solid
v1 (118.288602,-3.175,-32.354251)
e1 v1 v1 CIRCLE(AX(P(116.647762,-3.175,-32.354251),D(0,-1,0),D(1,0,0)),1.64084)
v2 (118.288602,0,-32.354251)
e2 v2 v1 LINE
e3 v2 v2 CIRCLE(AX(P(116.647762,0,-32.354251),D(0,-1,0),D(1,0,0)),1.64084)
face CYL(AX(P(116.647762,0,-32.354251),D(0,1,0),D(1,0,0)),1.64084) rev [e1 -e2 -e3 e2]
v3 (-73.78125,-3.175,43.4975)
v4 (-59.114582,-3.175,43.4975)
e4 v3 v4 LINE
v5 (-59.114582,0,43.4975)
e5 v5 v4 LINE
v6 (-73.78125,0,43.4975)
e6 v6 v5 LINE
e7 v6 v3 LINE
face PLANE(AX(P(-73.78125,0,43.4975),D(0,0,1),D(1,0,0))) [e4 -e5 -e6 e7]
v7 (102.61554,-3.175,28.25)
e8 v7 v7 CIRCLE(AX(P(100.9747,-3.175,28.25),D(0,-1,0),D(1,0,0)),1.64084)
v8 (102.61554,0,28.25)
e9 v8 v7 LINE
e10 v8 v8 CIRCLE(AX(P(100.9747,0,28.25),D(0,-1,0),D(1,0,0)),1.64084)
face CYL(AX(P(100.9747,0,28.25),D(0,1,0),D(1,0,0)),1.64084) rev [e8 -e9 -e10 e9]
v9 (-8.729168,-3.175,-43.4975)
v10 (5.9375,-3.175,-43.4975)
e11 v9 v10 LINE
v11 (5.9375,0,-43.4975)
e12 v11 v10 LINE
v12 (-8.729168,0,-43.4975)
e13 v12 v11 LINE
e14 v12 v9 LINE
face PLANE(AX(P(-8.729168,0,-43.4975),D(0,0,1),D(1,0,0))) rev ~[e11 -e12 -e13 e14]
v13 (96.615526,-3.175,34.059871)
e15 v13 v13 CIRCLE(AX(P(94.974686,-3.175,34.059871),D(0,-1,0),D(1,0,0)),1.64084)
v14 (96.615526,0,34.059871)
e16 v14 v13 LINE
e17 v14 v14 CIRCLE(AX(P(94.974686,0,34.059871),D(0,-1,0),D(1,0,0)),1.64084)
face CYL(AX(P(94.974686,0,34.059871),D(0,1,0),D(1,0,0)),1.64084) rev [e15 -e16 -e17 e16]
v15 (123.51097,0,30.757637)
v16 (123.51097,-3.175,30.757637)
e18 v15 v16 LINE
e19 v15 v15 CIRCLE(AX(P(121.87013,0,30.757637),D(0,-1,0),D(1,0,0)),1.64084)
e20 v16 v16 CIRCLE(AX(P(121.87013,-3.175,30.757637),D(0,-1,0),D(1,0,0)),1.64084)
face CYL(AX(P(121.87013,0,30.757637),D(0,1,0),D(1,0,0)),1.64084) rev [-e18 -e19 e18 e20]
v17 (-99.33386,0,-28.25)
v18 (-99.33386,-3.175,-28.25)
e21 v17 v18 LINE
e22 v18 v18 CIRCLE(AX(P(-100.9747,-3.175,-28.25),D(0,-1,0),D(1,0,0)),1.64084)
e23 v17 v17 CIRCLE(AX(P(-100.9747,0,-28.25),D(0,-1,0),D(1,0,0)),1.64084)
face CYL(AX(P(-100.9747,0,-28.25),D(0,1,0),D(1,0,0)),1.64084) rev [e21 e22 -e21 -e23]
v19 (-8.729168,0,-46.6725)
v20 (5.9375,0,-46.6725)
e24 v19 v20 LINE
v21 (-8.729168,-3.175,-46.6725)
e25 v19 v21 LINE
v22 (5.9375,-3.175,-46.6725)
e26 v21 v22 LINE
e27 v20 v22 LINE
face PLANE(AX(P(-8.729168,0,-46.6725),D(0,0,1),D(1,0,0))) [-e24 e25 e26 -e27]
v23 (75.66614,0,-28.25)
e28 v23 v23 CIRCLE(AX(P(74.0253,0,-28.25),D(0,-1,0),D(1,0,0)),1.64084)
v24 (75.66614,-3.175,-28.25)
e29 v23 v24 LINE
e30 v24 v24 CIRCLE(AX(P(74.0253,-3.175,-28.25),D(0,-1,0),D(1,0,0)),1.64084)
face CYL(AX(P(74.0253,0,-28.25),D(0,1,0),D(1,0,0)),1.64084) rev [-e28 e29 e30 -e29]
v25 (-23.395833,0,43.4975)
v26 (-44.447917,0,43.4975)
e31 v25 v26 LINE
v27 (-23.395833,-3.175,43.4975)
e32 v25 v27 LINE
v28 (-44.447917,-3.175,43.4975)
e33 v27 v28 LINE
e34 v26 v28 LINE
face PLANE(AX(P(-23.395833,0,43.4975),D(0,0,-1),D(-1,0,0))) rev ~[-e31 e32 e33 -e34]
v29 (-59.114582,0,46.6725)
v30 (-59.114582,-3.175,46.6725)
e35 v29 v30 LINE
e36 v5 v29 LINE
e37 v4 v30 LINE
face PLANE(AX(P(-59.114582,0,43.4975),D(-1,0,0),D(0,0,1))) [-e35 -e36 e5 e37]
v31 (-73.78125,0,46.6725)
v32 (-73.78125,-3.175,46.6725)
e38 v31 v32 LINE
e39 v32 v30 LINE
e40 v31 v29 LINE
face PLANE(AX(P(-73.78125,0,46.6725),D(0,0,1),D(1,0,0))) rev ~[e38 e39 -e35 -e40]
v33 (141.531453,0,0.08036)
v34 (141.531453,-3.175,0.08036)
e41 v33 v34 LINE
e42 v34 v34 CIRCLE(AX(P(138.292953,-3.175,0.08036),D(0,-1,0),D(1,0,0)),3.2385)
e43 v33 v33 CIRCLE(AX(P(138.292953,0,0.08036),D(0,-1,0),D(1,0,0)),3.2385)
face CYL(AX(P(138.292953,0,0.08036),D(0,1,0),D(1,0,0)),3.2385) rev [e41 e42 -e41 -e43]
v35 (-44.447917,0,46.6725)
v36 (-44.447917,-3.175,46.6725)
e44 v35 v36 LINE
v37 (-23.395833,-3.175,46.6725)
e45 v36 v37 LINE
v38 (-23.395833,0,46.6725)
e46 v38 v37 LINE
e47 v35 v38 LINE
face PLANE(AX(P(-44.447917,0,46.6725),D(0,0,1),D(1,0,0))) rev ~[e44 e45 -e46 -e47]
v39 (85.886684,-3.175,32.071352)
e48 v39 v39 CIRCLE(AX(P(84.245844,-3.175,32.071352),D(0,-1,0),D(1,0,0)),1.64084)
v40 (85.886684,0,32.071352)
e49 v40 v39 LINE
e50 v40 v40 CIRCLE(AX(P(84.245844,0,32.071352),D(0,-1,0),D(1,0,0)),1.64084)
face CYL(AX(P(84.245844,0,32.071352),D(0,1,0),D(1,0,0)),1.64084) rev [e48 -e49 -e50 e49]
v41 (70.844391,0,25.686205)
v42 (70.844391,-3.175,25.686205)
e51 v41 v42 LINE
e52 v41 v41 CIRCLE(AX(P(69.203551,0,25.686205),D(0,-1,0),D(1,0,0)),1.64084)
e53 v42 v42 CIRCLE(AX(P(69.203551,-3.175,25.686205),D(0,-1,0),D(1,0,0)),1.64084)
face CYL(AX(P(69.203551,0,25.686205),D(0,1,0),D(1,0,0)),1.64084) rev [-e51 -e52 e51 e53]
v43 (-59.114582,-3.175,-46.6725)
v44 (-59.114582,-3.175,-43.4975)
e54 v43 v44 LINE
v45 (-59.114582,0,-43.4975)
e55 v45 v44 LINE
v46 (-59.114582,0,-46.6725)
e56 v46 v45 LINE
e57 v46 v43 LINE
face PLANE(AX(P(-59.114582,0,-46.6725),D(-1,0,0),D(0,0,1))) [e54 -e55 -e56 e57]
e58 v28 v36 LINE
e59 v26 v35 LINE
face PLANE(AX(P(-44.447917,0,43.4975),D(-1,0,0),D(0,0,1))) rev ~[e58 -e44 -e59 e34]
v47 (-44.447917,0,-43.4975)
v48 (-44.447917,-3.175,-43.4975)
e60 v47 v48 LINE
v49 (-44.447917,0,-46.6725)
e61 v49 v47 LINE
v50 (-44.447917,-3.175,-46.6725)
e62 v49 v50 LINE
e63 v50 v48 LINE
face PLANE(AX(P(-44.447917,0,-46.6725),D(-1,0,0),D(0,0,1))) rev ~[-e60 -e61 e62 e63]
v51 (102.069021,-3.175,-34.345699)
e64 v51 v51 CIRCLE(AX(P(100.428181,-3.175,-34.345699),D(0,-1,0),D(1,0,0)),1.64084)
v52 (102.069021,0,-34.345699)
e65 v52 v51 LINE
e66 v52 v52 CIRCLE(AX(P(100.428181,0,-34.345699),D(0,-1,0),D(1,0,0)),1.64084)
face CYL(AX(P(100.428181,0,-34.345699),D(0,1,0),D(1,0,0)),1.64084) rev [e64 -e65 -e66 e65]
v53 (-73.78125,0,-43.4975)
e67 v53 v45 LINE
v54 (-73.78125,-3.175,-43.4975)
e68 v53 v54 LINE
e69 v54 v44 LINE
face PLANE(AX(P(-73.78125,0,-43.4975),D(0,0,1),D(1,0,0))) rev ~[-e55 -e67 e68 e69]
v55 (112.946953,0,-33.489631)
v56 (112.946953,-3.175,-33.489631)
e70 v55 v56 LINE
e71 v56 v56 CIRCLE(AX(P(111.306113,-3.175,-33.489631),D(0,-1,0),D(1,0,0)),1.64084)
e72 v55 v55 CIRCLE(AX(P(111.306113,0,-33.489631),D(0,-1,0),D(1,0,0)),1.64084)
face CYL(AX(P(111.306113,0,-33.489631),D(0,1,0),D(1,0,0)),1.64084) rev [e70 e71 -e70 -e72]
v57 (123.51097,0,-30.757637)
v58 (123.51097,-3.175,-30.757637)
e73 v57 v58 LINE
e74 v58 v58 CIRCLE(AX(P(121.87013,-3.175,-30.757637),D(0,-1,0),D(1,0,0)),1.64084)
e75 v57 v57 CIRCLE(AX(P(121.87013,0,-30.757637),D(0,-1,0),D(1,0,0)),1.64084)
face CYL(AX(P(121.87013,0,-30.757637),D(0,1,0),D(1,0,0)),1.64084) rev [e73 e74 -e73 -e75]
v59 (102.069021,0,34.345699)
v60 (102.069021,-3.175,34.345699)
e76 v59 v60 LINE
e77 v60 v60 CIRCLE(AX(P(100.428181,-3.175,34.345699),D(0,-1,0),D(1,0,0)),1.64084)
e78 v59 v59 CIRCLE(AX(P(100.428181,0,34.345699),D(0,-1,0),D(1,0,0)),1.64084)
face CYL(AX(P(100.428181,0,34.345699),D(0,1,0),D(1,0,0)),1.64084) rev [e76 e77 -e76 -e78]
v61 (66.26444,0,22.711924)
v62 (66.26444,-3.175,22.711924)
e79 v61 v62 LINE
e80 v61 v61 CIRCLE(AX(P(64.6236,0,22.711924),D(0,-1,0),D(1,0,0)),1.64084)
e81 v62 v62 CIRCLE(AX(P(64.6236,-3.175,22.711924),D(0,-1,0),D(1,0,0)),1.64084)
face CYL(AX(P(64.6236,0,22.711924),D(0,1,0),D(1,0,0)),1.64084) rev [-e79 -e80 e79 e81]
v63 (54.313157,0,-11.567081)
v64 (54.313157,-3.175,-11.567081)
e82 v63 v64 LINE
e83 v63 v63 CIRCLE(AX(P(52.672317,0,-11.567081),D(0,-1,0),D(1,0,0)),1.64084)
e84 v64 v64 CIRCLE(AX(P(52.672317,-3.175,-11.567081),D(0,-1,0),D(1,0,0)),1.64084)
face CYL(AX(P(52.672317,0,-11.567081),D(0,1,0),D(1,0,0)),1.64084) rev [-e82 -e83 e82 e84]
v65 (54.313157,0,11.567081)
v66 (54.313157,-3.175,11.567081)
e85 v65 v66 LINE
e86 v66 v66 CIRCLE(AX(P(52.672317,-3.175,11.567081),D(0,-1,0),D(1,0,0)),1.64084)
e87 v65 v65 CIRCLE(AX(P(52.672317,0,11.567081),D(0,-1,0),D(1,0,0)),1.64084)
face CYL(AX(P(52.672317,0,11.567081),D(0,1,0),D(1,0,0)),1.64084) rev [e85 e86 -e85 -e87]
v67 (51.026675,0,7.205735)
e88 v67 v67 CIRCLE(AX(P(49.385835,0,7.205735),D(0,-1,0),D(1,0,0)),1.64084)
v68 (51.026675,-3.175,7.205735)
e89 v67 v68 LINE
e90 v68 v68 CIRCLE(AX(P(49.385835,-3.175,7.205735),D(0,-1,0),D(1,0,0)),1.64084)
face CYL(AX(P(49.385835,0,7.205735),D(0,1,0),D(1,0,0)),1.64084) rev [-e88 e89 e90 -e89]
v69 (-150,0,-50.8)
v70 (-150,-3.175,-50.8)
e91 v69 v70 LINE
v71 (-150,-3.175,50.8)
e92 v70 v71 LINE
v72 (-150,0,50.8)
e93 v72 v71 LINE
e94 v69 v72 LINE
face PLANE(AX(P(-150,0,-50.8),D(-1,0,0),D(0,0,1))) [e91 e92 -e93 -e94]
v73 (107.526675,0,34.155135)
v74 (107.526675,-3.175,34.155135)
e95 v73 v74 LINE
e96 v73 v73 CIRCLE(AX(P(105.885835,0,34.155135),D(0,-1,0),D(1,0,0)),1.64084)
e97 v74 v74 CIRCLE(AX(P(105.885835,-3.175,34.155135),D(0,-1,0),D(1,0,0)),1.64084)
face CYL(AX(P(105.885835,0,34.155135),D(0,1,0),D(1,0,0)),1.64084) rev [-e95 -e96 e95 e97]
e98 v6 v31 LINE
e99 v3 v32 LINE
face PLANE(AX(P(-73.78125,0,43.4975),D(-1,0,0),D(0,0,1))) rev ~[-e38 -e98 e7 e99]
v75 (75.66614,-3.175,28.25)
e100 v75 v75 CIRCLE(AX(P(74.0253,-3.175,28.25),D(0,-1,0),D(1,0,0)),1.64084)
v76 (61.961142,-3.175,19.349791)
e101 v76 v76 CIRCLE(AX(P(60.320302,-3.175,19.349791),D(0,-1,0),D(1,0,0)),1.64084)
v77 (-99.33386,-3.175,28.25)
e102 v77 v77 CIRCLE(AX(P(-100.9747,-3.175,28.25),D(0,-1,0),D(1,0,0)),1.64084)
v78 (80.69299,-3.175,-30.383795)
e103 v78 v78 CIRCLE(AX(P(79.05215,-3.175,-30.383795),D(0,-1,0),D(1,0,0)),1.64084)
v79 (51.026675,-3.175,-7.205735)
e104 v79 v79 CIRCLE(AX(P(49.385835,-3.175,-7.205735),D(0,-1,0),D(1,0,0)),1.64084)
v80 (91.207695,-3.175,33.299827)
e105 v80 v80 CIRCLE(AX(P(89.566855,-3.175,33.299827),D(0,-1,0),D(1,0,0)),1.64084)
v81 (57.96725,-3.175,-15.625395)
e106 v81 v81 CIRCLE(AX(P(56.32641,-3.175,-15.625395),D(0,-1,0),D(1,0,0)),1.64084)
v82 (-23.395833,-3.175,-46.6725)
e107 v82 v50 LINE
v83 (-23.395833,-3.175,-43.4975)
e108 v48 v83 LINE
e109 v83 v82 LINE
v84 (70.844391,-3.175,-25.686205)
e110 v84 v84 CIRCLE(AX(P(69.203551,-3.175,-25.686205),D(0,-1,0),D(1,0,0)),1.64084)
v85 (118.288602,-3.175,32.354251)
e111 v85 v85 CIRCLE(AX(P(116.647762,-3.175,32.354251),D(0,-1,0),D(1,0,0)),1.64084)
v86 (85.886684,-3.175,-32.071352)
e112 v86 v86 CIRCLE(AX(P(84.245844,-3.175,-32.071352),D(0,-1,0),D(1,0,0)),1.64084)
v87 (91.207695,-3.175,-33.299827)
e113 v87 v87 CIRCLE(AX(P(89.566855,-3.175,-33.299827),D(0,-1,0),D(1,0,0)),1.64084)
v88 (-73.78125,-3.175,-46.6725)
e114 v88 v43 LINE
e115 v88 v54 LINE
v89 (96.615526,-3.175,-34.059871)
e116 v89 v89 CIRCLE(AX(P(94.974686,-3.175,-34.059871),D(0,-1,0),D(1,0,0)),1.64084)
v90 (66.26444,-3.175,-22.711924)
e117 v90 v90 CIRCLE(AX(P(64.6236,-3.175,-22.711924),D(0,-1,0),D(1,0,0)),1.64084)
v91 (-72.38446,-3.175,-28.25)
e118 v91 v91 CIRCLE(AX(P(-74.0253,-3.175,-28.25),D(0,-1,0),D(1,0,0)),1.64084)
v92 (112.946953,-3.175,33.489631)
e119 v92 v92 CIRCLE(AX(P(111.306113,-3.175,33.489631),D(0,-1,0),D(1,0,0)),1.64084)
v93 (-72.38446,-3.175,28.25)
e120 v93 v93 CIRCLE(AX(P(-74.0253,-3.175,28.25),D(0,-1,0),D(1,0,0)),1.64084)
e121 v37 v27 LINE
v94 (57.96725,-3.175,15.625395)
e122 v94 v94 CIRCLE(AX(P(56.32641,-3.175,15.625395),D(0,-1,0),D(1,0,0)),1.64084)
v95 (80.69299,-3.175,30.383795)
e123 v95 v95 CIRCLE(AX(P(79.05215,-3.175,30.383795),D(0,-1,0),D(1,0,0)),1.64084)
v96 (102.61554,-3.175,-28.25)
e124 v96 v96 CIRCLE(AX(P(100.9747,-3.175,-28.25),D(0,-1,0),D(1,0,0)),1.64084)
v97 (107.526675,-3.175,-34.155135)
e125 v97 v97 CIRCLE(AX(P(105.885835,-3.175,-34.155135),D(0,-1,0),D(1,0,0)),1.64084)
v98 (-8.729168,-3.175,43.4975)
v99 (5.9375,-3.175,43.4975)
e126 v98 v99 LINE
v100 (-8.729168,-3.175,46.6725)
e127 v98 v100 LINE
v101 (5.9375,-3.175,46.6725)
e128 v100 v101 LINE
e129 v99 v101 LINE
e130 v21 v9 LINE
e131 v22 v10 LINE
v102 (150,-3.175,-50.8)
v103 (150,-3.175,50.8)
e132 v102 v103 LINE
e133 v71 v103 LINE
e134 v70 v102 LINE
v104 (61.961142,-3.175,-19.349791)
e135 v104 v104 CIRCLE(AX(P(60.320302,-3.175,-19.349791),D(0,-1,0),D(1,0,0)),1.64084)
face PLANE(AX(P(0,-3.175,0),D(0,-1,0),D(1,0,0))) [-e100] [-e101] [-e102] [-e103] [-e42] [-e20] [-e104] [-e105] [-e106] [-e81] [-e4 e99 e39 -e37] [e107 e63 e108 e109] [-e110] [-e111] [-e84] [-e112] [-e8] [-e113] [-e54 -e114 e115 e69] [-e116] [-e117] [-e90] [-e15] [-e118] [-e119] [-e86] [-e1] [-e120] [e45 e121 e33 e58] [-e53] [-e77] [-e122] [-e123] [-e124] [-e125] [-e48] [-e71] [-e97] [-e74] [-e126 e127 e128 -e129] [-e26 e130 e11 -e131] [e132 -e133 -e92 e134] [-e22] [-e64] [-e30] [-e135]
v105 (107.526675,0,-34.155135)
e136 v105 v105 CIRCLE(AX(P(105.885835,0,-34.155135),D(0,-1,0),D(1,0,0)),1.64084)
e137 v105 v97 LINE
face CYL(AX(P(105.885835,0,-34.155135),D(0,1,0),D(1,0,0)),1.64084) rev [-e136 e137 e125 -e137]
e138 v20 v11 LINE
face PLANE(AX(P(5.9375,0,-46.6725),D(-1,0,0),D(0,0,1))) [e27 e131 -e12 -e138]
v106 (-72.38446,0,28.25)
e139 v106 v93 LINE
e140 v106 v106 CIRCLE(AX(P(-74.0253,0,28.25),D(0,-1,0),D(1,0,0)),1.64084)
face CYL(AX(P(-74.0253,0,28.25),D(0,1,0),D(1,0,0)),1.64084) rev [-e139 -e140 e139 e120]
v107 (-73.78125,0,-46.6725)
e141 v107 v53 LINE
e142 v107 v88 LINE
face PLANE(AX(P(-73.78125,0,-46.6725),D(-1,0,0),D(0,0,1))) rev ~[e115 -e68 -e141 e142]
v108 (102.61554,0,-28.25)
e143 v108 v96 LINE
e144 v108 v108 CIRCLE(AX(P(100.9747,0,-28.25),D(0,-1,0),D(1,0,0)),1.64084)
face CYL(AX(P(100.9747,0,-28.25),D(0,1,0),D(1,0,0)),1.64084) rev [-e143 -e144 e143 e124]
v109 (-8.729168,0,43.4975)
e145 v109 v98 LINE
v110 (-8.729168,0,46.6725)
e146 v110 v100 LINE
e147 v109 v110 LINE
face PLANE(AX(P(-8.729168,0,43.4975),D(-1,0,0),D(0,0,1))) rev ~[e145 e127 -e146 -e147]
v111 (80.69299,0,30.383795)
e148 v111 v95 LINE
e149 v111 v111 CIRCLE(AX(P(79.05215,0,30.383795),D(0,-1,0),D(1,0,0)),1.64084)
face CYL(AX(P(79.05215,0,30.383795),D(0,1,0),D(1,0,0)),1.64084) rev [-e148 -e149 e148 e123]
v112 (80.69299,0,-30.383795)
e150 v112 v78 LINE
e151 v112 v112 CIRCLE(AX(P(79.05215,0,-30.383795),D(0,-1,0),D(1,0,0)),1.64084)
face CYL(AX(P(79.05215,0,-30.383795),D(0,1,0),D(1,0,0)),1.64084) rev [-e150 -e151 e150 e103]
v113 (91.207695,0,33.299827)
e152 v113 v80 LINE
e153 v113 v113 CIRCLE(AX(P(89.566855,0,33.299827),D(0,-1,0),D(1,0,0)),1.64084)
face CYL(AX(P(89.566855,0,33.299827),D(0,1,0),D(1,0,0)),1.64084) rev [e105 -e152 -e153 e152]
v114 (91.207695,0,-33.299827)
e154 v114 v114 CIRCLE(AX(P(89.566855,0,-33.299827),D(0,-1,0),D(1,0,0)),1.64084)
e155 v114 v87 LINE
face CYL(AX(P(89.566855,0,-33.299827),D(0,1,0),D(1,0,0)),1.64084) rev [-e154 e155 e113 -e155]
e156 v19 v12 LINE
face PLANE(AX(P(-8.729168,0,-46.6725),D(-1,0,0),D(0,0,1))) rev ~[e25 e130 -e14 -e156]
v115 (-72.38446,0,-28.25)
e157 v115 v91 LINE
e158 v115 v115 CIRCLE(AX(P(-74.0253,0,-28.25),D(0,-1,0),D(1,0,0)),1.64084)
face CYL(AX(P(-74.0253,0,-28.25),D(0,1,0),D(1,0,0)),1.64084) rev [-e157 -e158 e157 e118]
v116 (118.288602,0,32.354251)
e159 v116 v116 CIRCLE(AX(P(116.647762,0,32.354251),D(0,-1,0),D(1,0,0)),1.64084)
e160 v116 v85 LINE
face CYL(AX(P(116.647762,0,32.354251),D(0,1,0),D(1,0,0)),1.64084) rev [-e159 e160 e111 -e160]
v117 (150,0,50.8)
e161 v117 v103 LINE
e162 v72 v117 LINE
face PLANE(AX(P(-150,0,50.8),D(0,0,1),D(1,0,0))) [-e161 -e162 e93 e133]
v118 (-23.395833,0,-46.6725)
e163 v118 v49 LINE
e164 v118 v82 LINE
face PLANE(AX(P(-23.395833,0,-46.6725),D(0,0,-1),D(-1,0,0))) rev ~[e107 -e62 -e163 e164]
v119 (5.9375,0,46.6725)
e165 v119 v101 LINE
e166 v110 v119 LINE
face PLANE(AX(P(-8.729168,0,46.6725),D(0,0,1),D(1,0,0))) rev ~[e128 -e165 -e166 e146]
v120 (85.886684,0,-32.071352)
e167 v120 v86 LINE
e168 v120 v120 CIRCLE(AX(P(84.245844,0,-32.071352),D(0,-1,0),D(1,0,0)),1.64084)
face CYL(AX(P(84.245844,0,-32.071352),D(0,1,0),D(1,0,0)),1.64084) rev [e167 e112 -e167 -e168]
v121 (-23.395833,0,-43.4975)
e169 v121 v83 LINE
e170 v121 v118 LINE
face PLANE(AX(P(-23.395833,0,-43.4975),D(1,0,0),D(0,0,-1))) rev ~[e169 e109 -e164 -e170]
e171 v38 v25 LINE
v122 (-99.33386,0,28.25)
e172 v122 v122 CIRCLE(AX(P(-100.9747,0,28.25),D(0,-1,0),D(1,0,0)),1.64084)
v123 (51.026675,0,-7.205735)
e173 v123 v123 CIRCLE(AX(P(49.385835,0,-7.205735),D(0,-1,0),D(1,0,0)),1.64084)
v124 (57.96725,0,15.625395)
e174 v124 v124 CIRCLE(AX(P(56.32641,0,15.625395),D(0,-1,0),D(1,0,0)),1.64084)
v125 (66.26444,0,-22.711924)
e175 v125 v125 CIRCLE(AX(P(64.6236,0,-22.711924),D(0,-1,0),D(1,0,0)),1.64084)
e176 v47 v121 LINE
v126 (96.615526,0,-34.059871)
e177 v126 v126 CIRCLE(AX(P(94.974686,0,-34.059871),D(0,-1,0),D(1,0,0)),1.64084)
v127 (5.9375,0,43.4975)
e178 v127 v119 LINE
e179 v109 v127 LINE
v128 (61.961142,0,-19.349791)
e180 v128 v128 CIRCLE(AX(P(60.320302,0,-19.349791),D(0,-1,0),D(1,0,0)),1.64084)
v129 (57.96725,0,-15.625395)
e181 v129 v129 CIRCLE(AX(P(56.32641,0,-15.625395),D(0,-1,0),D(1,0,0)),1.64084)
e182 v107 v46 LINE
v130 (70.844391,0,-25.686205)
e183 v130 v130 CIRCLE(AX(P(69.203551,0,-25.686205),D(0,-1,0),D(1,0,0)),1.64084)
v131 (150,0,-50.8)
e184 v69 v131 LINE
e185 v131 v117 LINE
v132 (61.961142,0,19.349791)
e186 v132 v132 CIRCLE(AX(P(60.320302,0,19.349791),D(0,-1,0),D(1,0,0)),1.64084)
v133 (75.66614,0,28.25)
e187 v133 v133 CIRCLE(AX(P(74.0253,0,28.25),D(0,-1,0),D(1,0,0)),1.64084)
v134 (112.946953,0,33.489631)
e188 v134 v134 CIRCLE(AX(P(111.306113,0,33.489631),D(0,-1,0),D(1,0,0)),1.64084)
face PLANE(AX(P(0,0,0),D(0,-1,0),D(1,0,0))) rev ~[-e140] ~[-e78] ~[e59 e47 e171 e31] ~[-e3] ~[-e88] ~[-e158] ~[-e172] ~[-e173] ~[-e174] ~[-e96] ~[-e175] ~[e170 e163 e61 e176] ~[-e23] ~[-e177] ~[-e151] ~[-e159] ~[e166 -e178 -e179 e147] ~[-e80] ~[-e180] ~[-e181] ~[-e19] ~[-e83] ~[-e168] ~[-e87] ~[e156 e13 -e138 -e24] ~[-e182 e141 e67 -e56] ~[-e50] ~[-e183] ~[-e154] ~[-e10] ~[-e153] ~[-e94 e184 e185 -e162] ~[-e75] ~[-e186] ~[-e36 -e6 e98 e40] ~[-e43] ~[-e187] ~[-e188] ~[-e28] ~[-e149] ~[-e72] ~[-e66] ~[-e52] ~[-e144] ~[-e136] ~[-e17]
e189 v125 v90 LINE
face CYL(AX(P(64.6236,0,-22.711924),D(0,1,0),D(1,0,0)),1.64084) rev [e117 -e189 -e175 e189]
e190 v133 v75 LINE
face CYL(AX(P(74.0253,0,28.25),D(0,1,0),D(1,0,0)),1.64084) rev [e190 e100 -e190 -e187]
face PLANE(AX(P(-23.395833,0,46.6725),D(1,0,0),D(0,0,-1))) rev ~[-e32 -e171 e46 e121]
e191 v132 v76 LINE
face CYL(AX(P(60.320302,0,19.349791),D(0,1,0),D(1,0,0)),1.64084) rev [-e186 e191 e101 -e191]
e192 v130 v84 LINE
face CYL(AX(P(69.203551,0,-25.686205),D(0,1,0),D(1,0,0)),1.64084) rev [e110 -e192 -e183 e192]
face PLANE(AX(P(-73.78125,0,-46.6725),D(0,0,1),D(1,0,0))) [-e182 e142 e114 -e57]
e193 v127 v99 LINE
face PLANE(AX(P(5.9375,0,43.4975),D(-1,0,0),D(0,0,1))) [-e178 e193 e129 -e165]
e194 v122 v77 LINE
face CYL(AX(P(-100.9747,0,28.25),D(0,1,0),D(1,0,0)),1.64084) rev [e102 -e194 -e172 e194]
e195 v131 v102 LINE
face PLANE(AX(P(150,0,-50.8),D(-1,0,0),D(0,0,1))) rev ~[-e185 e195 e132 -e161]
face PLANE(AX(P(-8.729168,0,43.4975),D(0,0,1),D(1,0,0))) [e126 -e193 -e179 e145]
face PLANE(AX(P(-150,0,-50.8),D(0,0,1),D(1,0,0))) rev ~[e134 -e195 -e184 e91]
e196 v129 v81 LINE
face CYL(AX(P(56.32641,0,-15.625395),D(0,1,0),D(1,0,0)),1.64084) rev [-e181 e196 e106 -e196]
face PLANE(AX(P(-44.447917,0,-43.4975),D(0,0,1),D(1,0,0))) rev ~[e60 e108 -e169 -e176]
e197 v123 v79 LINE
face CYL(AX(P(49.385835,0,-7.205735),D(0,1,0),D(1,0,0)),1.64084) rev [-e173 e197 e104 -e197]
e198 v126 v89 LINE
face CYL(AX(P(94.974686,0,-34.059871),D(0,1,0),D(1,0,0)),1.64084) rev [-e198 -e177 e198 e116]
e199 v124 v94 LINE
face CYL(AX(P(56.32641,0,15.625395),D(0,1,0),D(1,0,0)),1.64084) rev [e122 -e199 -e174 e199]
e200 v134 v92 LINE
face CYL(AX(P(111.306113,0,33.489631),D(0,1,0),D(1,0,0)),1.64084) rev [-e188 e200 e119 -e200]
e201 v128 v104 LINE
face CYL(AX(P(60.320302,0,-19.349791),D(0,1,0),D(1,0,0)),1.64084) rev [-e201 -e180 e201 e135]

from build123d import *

# Parameters (mm, degrees)
F0_W     = 300
F0_H     = 101.6
F0_R     = 1.64084
F0_W_2   = 14.666667
F0_H_2   = 3.175
F0_R_2   = 3.2385
F1_DEPTH = 3.175


with BuildPart() as f1:
    # F0 (on Front) → F1 (new body)
    with BuildSketch(Plane.XZ):
        Rectangle(F0_W, F0_H)
        with Locations((-100.9747, -28.25)):
            Circle(F0_R, mode=Mode.SUBTRACT)
        with Locations((-66.447916, -45.085)):
            Rectangle(F0_W_2, F0_H_2, mode=Mode.SUBTRACT)
        Polygon((-23.395833, -46.6725), (-29.78125, -46.6725), (-38.0625, -46.6725), (-44.447917, -46.6725), (-44.447917, -43.4975), (-38.0625, -43.4975), (-29.78125, -43.4975), (-23.395833, -43.4975), align=None, mode=Mode.SUBTRACT)
        with Locations((-1.395834, -45.085)):
            Rectangle(F0_W_2, F0_H_2, mode=Mode.SUBTRACT)
        with Locations((-74.0253, -28.25)):
            Circle(F0_R, mode=Mode.SUBTRACT)
        with Locations((74.0253, -28.25)):
            Circle(F0_R, mode=Mode.SUBTRACT)
        with Locations((69.203551, -25.686205)):
            Circle(F0_R, mode=Mode.SUBTRACT)
        with Locations((84.245844, -32.071352)):
            Circle(F0_R, mode=Mode.SUBTRACT)
        with Locations((89.566855, -33.299827)):
            Circle(F0_R, mode=Mode.SUBTRACT)
        with Locations((94.974686, -34.059871)):
            Circle(F0_R, mode=Mode.SUBTRACT)
        with Locations((100.428181, -34.345699)):
            Circle(F0_R, mode=Mode.SUBTRACT)
        with Locations((105.885835, -34.155135)):
            Circle(F0_R, mode=Mode.SUBTRACT)
        with Locations((111.306113, -33.489631)):
            Circle(F0_R, mode=Mode.SUBTRACT)
        with Locations((79.05215, -30.383795)):
            Circle(F0_R, mode=Mode.SUBTRACT)
        with Locations((100.9747, -28.25)):
            Circle(F0_R, mode=Mode.SUBTRACT)
        with Locations((116.647762, -32.354251)):
            Circle(F0_R, mode=Mode.SUBTRACT)
        with Locations((121.87013, -30.757637)):
            Circle(F0_R, mode=Mode.SUBTRACT)
        with Locations((64.6236, -22.711924)):
            Circle(F0_R, mode=Mode.SUBTRACT)
        with Locations((60.320302, -19.349791)):
            Circle(F0_R, mode=Mode.SUBTRACT)
        with Locations((56.32641, -15.625395)):
            Circle(F0_R, mode=Mode.SUBTRACT)
        with Locations((52.672317, -11.567081)):
            Circle(F0_R, mode=Mode.SUBTRACT)
        with Locations((49.385835, -7.205735)):
            Circle(F0_R, mode=Mode.SUBTRACT)
        with Locations((-100.9747, 28.25)):
            Circle(F0_R, mode=Mode.SUBTRACT)
        with Locations((-74.0253, 28.25)):
            Circle(F0_R, mode=Mode.SUBTRACT)
        with Locations((-66.447916, 45.085)):
            Rectangle(F0_W_2, F0_H_2, mode=Mode.SUBTRACT)
        Polygon((-23.395833, 46.6725), (-23.395833, 43.4975), (-29.78125, 43.4975), (-38.0625, 43.4975), (-44.447917, 43.4975), (-44.447917, 46.6725), (-38.0625, 46.6725), (-29.78125, 46.6725), align=None, mode=Mode.SUBTRACT)
        with Locations((-1.395834, 45.085)):
            Rectangle(F0_W_2, F0_H_2, mode=Mode.SUBTRACT)
        with Locations((49.385835, 7.205735)):
            Circle(F0_R, mode=Mode.SUBTRACT)
        with Locations((52.672317, 11.567081)):
            Circle(F0_R, mode=Mode.SUBTRACT)
        with Locations((56.32641, 15.625395)):
            Circle(F0_R, mode=Mode.SUBTRACT)
        with Locations((60.320302, 19.349791)):
            Circle(F0_R, mode=Mode.SUBTRACT)
        with Locations((64.6236, 22.711924)):
            Circle(F0_R, mode=Mode.SUBTRACT)
        with Locations((138.292953, 0.08036)):
            Circle(F0_R_2, mode=Mode.SUBTRACT)
        with Locations((69.203551, 25.686205)):
            Circle(F0_R, mode=Mode.SUBTRACT)
        with Locations((74.0253, 28.25)):
            Circle(F0_R, mode=Mode.SUBTRACT)
        with Locations((79.05215, 30.383795)):
            Circle(F0_R, mode=Mode.SUBTRACT)
        with Locations((100.9747, 28.25)):
            Circle(F0_R, mode=Mode.SUBTRACT)
        with Locations((84.245844, 32.071352)):
            Circle(F0_R, mode=Mode.SUBTRACT)
        with Locations((89.566855, 33.299827)):
            Circle(F0_R, mode=Mode.SUBTRACT)
        with Locations((94.974686, 34.059871)):
            Circle(F0_R, mode=Mode.SUBTRACT)
        with Locations((100.428181, 34.345699)):
            Circle(F0_R, mode=Mode.SUBTRACT)
        with Locations((105.885835, 34.155135)):
            Circle(F0_R, mode=Mode.SUBTRACT)
        with Locations((111.306113, 33.489631)):
            Circle(F0_R, mode=Mode.SUBTRACT)
        with Locations((121.87013, 30.757637)):
            Circle(F0_R, mode=Mode.SUBTRACT)
        with Locations((116.647762, 32.354251)):
            Circle(F0_R, mode=Mode.SUBTRACT)
    extrude(amount=F1_DEPTH)


solid = f1.part
